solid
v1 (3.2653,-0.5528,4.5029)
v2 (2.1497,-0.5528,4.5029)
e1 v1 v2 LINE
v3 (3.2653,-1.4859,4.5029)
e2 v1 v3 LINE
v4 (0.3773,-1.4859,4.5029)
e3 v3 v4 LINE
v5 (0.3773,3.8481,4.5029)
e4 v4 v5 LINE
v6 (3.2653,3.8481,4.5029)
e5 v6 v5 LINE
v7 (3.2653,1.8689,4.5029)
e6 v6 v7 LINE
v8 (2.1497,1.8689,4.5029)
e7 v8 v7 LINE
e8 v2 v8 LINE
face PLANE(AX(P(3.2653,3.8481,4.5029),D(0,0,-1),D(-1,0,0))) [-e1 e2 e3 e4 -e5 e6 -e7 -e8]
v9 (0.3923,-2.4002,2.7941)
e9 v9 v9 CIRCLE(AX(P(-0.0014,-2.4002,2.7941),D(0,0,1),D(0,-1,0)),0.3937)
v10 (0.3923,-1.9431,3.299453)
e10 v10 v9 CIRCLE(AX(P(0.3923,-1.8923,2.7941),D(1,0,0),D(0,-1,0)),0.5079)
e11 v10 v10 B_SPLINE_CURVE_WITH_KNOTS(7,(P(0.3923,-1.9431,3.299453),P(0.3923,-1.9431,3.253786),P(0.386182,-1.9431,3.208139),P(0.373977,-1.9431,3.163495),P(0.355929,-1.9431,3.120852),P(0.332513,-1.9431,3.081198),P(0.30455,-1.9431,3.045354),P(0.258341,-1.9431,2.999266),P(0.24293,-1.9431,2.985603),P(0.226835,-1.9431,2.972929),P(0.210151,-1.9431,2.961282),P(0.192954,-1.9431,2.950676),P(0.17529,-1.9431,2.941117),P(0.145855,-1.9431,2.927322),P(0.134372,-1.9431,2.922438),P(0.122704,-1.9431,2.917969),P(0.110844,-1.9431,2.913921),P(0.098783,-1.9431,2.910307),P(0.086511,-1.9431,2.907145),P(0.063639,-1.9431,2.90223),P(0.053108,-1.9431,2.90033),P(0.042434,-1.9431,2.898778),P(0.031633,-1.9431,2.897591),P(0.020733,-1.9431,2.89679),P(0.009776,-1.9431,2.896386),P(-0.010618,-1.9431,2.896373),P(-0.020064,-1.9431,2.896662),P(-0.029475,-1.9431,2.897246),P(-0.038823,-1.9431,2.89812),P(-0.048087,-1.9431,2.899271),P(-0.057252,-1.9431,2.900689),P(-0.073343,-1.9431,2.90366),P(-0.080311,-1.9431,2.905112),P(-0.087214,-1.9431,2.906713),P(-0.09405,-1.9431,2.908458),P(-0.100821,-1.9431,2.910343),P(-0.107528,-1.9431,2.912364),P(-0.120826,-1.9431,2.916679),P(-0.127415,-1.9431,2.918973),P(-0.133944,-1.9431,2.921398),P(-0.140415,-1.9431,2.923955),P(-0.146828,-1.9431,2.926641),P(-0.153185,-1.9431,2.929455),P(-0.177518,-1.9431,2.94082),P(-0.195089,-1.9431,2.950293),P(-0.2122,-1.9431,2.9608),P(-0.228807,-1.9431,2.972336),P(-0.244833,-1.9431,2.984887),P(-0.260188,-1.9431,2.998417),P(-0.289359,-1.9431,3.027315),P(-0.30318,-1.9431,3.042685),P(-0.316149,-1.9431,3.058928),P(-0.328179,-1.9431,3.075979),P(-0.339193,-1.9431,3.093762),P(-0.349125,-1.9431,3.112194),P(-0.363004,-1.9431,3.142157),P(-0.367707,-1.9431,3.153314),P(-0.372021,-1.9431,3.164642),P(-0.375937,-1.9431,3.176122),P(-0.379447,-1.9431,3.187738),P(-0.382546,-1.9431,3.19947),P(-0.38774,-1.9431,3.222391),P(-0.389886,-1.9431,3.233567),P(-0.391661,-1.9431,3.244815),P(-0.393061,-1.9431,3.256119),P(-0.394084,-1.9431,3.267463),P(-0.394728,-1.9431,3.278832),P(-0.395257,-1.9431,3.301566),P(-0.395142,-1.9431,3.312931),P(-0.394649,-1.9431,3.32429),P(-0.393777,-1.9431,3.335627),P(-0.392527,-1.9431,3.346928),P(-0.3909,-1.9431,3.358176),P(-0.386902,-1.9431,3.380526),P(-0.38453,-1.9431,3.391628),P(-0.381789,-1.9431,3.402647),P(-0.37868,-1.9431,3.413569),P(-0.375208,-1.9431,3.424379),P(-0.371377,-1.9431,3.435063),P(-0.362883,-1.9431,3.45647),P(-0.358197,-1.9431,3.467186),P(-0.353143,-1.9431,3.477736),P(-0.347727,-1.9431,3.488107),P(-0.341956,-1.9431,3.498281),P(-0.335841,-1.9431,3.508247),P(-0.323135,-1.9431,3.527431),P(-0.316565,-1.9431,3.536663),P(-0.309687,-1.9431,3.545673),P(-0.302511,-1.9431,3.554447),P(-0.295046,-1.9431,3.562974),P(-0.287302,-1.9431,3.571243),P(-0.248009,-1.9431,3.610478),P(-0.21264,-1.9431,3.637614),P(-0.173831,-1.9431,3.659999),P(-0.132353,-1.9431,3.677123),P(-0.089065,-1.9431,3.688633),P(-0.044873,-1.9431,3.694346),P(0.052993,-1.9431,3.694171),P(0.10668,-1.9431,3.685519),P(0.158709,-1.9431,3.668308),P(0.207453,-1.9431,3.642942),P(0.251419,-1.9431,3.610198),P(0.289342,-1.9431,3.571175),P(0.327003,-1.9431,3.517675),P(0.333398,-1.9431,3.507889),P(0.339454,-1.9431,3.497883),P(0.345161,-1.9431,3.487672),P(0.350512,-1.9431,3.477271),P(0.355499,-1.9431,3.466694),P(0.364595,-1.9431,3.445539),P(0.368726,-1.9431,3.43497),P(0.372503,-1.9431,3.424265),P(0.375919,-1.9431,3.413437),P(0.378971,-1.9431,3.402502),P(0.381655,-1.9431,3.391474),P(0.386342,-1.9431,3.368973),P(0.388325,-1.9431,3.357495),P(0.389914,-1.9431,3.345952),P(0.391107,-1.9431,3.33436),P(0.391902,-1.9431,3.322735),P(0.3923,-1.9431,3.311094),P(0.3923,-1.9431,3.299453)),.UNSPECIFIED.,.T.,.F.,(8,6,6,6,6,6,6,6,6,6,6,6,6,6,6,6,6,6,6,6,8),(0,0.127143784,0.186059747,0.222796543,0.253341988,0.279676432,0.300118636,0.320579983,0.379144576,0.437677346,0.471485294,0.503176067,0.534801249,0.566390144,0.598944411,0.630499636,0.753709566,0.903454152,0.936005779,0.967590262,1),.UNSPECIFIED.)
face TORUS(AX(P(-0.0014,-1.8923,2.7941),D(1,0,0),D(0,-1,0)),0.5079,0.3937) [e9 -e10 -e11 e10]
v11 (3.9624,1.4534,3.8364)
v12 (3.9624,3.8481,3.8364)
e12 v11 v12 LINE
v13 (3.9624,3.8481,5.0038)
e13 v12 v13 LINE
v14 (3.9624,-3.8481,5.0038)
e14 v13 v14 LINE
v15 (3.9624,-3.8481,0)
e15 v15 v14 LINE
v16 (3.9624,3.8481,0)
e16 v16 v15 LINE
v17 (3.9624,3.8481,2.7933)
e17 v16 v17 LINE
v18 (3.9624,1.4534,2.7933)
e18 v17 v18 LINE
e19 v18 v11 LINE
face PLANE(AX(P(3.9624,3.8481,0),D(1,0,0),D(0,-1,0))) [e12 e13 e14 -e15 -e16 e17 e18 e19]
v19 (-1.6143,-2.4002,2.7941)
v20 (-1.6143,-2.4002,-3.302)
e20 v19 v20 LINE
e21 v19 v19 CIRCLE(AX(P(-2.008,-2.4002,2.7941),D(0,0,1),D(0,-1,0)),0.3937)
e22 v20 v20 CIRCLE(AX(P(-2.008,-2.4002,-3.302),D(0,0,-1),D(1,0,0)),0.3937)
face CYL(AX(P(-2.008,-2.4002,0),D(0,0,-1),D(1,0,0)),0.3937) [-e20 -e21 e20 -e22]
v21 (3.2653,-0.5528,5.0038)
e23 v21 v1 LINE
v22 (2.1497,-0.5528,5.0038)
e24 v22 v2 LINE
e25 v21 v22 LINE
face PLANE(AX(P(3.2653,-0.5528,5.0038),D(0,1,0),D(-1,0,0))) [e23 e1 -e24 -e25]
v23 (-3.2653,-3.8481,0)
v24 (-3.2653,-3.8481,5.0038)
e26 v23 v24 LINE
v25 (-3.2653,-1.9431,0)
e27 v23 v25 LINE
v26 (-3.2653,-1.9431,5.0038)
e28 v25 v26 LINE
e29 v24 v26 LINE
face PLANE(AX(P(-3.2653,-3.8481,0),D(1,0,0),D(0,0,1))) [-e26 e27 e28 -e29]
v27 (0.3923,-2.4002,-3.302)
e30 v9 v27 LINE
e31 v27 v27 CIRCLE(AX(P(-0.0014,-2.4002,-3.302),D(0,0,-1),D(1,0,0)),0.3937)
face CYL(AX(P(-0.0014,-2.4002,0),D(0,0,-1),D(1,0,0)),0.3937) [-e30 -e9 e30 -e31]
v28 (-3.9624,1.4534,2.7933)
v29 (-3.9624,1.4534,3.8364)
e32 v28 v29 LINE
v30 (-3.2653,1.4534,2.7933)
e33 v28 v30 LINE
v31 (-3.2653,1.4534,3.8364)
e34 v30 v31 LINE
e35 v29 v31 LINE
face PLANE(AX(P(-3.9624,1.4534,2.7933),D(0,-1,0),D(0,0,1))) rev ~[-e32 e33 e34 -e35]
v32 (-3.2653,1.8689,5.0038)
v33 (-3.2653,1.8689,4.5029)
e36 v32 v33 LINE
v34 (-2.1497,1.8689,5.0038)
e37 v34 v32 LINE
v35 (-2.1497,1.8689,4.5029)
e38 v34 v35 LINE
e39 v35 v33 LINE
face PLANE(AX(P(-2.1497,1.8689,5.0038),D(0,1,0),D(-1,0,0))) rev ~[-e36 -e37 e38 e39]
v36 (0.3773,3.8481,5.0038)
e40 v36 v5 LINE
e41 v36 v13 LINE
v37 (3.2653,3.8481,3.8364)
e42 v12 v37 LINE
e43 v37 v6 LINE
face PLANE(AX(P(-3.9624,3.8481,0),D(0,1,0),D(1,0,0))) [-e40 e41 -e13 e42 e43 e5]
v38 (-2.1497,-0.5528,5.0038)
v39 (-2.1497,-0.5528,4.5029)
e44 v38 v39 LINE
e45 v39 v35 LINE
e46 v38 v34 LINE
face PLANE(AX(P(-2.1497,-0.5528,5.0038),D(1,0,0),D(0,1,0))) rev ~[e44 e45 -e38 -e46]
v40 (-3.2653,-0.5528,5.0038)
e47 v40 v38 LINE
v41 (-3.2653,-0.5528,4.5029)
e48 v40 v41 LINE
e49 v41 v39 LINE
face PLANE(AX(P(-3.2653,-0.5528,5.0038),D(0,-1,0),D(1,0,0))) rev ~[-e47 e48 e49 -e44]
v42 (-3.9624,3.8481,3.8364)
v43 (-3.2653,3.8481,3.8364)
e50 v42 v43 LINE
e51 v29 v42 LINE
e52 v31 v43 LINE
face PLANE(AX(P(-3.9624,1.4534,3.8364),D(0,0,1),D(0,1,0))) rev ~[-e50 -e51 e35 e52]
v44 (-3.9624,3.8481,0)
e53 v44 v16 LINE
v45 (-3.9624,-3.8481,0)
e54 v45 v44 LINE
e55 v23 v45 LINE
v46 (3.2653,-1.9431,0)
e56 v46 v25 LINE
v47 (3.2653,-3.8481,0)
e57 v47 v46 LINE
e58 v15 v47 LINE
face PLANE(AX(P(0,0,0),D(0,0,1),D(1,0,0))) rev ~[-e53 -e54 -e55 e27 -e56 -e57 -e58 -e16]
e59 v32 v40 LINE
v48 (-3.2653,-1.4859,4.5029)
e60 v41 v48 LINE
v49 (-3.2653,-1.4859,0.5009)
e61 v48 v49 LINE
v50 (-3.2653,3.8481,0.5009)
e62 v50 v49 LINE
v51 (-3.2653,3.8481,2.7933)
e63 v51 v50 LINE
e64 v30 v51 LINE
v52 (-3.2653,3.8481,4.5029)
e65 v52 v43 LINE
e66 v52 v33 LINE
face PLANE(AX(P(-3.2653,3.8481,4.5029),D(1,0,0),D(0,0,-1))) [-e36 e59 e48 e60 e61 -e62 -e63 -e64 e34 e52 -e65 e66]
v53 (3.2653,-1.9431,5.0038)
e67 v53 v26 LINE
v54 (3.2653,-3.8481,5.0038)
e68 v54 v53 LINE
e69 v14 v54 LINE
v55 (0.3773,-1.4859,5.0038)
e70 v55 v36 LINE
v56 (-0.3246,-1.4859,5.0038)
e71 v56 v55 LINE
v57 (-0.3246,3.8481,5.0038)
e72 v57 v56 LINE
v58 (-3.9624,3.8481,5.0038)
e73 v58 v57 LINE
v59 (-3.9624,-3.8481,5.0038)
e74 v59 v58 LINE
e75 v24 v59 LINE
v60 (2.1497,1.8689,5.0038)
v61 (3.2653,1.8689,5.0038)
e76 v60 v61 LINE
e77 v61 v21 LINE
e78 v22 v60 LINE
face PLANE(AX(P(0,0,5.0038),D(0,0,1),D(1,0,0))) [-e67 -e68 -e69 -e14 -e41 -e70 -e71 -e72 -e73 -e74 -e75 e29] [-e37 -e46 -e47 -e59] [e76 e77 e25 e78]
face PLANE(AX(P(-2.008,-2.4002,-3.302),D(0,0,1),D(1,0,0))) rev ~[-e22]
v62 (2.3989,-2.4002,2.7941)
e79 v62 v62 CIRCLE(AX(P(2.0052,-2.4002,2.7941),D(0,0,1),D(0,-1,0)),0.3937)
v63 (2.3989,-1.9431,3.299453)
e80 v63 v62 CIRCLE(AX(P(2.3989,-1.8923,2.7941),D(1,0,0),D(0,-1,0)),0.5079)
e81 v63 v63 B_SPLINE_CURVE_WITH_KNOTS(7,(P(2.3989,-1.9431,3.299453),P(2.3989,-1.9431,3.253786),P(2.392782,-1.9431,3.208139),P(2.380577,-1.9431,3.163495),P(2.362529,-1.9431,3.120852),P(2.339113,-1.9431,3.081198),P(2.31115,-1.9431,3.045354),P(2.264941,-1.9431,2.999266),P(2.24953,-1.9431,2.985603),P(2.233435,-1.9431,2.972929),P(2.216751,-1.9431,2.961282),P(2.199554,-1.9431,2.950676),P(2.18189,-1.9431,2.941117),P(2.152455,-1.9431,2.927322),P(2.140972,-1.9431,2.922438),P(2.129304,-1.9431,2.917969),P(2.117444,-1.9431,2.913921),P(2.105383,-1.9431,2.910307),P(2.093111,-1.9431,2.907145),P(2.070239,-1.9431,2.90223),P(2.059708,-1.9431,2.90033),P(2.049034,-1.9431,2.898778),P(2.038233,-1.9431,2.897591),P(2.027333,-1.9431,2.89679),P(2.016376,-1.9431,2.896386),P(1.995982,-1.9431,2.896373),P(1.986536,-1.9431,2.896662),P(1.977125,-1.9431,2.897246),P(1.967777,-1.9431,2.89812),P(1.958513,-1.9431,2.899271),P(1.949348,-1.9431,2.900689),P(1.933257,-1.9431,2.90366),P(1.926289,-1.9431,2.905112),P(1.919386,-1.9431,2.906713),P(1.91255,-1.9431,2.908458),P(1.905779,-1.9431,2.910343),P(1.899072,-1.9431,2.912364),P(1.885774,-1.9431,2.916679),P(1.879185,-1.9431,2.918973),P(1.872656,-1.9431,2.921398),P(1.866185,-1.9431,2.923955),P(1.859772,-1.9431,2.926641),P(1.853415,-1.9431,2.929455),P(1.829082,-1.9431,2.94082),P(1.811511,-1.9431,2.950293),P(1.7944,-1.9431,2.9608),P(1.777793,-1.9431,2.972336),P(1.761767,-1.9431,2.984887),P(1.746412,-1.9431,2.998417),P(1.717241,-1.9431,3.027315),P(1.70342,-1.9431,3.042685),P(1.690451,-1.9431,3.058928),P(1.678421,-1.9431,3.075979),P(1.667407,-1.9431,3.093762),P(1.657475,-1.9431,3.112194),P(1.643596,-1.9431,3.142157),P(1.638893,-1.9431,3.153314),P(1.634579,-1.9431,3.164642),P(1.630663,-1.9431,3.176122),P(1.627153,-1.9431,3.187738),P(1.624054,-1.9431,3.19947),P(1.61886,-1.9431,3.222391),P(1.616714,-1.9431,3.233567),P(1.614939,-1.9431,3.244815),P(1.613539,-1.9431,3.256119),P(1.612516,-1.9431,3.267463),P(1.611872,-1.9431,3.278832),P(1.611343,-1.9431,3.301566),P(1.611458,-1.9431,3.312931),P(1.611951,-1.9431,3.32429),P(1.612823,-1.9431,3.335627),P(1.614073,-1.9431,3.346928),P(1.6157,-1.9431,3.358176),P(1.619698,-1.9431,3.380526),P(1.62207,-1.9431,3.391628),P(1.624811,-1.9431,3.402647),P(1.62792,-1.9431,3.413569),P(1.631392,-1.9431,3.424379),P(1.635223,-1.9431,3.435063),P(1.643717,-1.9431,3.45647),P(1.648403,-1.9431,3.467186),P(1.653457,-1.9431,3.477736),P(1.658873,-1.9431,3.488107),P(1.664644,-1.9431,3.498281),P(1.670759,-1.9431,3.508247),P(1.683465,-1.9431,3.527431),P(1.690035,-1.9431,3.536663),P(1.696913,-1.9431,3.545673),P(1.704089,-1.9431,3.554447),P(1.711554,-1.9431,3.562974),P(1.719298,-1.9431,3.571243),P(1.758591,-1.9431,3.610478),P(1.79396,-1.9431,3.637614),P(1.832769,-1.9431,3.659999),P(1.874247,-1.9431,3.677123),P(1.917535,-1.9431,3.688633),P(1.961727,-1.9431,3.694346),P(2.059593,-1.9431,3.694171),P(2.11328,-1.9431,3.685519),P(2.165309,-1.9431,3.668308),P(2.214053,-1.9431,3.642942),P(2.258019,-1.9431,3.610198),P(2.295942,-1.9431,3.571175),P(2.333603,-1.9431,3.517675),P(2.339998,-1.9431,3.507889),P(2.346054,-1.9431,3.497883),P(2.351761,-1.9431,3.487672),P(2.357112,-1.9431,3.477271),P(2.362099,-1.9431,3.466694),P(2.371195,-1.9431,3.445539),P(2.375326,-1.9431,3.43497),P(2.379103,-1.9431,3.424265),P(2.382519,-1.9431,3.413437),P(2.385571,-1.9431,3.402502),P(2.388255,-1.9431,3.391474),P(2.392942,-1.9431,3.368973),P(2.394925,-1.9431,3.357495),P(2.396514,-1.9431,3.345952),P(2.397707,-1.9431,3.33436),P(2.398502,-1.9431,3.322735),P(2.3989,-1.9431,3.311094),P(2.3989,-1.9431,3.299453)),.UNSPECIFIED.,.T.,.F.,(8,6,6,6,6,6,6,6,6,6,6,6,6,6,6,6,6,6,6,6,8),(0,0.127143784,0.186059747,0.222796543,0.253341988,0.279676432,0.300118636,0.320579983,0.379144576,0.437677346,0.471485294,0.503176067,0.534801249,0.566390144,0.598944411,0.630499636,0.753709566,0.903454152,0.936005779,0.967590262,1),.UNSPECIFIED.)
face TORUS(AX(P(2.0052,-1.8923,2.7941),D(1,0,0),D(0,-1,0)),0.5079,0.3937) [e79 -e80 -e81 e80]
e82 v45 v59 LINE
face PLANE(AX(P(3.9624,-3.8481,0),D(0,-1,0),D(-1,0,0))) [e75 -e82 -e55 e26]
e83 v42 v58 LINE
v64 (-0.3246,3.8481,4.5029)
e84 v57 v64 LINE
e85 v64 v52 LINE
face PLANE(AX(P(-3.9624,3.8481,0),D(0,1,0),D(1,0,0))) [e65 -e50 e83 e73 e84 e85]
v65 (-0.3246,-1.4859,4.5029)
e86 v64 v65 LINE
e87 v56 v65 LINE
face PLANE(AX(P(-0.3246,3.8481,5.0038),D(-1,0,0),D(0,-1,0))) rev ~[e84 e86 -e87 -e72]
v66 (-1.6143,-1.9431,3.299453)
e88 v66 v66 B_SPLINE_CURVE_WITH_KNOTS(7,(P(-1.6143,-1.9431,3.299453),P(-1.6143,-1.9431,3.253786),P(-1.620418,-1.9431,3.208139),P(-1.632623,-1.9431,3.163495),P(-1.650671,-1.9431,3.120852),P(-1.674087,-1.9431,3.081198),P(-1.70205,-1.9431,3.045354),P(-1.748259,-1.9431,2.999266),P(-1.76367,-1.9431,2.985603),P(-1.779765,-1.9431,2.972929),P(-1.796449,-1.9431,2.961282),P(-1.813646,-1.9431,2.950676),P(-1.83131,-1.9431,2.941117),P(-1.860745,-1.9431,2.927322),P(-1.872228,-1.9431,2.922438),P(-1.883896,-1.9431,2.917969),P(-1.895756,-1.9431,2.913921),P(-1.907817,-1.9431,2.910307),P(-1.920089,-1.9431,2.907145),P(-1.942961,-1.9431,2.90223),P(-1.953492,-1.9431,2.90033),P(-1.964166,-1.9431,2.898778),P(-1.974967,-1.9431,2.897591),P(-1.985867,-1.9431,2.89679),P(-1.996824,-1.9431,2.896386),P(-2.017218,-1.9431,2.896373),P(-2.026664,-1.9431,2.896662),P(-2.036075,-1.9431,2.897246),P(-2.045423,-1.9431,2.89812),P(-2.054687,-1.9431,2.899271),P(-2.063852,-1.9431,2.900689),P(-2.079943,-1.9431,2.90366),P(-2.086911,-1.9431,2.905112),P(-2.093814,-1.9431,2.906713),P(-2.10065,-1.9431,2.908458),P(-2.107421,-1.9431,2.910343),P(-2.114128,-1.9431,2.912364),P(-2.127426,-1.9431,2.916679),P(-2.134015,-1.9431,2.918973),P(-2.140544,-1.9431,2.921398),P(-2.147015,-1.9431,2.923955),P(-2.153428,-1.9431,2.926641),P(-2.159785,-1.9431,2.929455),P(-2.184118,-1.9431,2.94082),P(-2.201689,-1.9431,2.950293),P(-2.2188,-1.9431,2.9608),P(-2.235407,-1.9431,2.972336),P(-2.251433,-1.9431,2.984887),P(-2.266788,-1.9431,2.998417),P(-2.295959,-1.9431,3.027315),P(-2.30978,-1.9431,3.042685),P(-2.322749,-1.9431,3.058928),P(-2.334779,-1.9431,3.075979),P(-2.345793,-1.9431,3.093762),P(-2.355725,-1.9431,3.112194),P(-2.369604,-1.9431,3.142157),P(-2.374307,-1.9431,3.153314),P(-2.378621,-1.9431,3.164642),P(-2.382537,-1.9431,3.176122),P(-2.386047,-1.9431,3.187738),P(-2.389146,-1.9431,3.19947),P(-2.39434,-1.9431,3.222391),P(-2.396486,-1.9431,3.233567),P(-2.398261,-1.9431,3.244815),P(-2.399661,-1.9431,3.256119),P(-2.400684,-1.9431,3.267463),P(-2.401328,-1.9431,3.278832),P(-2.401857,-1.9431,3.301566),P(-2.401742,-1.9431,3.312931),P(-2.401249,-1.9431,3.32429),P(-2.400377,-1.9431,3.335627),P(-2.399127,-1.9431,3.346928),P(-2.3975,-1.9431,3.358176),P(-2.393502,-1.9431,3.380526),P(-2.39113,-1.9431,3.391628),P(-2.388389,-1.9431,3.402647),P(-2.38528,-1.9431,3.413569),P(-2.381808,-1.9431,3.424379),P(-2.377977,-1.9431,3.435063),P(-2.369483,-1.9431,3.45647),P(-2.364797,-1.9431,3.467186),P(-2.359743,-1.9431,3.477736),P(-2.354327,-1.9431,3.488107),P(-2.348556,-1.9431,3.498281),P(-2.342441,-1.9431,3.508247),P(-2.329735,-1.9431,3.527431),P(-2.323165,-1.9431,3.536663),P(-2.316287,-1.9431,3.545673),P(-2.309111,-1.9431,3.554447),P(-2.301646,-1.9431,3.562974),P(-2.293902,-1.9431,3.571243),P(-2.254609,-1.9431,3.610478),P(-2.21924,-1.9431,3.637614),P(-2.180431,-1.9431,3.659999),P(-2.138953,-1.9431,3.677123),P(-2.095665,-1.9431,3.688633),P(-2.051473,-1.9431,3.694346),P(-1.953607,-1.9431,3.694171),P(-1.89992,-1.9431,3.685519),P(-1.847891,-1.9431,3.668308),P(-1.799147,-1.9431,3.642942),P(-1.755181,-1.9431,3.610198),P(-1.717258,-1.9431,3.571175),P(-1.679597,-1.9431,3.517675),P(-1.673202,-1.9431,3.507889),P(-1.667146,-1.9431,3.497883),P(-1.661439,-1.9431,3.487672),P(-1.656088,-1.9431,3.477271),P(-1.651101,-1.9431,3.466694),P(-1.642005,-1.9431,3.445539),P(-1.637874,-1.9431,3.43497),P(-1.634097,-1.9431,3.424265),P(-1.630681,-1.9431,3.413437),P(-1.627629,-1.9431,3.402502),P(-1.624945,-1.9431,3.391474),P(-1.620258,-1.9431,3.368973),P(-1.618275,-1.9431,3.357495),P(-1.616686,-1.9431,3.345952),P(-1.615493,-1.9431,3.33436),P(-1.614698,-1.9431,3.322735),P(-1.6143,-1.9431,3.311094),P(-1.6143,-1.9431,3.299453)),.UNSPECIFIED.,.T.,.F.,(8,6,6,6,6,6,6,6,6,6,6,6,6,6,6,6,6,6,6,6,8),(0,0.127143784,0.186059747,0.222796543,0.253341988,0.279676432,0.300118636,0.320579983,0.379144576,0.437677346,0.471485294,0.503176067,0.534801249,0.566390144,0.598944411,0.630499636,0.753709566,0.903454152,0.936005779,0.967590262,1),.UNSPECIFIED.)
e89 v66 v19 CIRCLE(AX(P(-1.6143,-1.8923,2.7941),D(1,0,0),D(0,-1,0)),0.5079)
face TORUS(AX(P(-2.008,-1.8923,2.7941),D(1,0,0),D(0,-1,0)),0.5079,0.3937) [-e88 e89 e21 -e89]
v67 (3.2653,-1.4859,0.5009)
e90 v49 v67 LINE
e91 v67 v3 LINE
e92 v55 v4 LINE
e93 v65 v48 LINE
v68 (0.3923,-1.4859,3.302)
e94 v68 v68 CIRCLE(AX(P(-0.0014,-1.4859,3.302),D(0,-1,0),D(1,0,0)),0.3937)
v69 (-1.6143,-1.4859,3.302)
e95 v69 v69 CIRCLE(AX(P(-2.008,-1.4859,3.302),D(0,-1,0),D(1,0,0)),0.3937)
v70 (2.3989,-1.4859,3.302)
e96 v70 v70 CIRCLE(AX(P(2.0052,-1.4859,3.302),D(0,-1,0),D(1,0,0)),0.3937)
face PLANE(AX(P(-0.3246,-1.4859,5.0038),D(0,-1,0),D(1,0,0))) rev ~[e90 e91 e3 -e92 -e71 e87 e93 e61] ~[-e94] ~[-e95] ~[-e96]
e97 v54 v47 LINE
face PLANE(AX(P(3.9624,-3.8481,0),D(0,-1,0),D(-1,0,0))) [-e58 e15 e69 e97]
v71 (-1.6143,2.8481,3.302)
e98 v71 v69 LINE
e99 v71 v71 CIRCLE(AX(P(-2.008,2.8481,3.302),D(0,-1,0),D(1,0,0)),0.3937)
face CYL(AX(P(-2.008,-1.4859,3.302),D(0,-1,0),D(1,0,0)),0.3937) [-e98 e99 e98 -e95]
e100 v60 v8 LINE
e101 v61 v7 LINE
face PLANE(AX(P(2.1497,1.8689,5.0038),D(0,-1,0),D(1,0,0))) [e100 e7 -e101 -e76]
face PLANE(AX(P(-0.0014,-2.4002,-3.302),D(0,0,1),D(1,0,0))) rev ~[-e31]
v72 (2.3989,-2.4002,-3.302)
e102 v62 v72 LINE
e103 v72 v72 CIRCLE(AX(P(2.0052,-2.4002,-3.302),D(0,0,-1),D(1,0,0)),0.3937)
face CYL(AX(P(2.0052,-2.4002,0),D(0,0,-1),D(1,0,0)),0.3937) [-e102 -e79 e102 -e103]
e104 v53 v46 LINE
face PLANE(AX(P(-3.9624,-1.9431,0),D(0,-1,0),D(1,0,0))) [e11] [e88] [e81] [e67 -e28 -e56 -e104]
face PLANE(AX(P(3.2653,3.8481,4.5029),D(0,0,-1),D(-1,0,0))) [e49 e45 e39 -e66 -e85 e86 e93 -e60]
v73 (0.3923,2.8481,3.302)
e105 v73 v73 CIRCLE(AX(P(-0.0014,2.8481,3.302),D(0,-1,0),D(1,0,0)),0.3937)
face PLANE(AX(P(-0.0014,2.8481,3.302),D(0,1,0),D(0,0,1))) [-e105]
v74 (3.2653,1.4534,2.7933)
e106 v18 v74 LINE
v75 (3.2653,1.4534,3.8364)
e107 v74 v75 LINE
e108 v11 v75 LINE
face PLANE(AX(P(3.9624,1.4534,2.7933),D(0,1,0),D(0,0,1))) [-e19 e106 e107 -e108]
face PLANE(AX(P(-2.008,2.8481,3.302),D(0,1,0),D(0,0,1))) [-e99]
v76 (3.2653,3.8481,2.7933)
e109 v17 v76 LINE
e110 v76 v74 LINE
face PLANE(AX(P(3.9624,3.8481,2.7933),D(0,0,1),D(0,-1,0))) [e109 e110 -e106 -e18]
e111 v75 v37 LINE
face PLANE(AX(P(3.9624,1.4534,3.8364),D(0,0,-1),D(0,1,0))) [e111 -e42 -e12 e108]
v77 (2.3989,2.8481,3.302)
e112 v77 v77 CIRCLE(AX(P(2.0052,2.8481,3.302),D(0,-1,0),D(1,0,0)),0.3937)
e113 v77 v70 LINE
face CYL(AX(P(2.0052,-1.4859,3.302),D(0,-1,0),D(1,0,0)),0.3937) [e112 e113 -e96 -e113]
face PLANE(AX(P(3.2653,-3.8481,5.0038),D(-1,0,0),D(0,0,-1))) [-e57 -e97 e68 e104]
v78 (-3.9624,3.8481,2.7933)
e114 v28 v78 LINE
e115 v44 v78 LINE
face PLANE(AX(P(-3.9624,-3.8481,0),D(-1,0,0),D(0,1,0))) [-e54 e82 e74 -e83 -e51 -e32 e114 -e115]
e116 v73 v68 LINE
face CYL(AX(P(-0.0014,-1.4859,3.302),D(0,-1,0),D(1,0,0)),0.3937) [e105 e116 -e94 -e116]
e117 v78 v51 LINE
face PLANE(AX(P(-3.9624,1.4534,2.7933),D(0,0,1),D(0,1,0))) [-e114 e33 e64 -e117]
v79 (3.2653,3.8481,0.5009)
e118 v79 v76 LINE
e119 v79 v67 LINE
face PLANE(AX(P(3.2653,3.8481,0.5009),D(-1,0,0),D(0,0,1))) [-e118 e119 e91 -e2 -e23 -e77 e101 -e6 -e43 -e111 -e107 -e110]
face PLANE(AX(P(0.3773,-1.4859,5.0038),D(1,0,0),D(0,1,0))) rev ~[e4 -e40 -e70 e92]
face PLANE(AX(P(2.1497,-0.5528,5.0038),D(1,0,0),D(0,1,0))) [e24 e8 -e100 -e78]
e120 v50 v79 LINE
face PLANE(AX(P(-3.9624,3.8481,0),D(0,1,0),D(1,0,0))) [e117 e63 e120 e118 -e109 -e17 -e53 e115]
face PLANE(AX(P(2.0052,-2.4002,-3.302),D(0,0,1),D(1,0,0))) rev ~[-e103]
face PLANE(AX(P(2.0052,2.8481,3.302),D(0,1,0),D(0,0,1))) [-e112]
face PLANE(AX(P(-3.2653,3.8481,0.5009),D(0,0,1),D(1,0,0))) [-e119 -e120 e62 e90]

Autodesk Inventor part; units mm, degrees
ref_plane "YZ Plane" through (0, 0, 0) normal (1, 0, 0) x (0, 1, 0)
ref_plane "XZ Plane" through (0, 0, 0) normal (0, 1, 0) x (-1, 0, 0)
sketch "Sketch1" plane through (0, 0, 0) normal (0, 0, 1) x (1, 0, 0)
  line L0 (-3.9624, 3.8481) -> (3.9624, 3.8481)
  line L1 (3.9624, 3.8481) -> (3.9624, -3.8481)
  line L2 (3.9624, -3.8481) -> (-3.9624, -3.8481)
  line L3 (-3.9624, -3.8481) -> (-3.9624, 3.8481)
  line L4 (-3.9624, 3.8481) -> (3.9624, -3.8481) construction
  line L5 (3.9624, 3.8481) -> (-3.9624, -3.8481) construction
  point P0 (0, 0)
  dimension "d0" = 7.6962
  dimension "d1" = 7.9248
extrude "Extrusion1" add sketch "Sketch1" along normal blind 5.0038
sketch "Sketch4" plane through (-3.9624, 3.8481, 0) normal (0, 1, 0) x (1, 0, 0)
  line L0 (7.2277, -4.5029) -> (0.6971, -4.5029)
  line L1 (0.6971, -4.5029) -> (0.6971, -0.5009)
  line L2 (0.6971, -0.5009) -> (7.2277, -0.5009)
  line L3 (7.2277, -0.5009) -> (7.2277, -4.5029)
  line L4 (7.2277, -4.5029) -> (0.6971, -0.5009) construction
  line L5 (0.6971, -4.5029) -> (7.2277, -0.5009) construction
  line L6 (7.9248, -5.0038) -> (0, -5.0038) projected
  point P0 (3.9624, 0)
  point P1 (3.9624, -2.5019)
  dimension "d16" = 2.5019
extrude "Extrusion3" cut sketch "Sketch4" against normal blind 5.334
sketch "Sketch5" plane through (-3.9624, -3.8481, 0) normal (0, -1, 0) x (1, 0, 0)
  line L0 (7.9248, 5.0038) -> (0, 5.0038) projected
  line L1 (7.9248, 0) -> (0, 0) projected
  line L2 (0.6971, 5.0038) -> (7.2277, 5.0038)
  line L3 (7.2277, 5.0038) -> (7.2277, 0)
  line L4 (7.2277, 0) -> (0.6971, 0)
  line L5 (0.6971, 0) -> (0.6971, 5.0038)
  point P0 (3.9624, 0)
  point P1 (0.6971, 4.5029)
  point P2 (7.2277, 0.5009)
extrude "Extrusion4" cut sketch "Sketch5" against normal blind 1.905
sketch "Sketch9" plane through (0, 0, 5.0038) normal (0, 0, 1) x (1, 0, 0)
  line L0 (3.2653, 3.8481) -> (-3.2653, 3.8481) projected
  line L1 (-3.2653, -1.4859) -> (3.2653, -1.4859) projected
  line L2 (0.3773, 3.8481) -> (-0.3246, 3.8481)
  line L3 (-0.3246, 3.8481) -> (-0.3246, -1.4859)
  line L4 (-0.3246, -1.4859) -> (0.3773, -1.4859)
  line L5 (0.3773, -1.4859) -> (0.3773, 3.8481)
  line L6 (3.2653, 3.8481) -> (3.2653, -1.4859) projected
  line L7 (3.2653, -0.5528) -> (2.1497, -0.5528)
  line L8 (2.1497, -0.5528) -> (2.1497, 1.8689)
  line L9 (2.1497, 1.8689) -> (3.2653, 1.8689)
  line L10 (3.2653, 1.8689) -> (3.2653, -0.5528)
  line L11 (-3.2653, 3.8481) -> (-3.2653, -1.4859) projected
  line L12 (-3.2653, -0.5528) -> (-2.1497, -0.5528)
  line L13 (-2.1497, -0.5528) -> (-2.1497, 1.8689)
  line L14 (-2.1497, 1.8689) -> (-3.2653, 1.8689)
  line L15 (-3.2653, 1.8689) -> (-3.2653, -0.5528)
  point P0 (0, 0)
  dimension "d36" = 1.1156
  dimension "d37" = 1.1156
extrude "Extrusion7" cut sketch "Sketch9" against normal up to surface (0.5009 mm away) contours L5 L1 L3 L0 | L6 L7 L8 L9 | L14 L13 L12 L11
sketch "Sketch10" plane through (-3.9624, -1.4859, 0) normal (0, 1, 0) x (1, 0, 0)
  circle A0 centre (3.961, -3.302) radius 0.3937
  line L0 (7.9248, -5.0038) -> (4.3397, -5.0038) projected
  line L1 (0.6971, -4.5029) -> (0.6971, -0.5009) projected
  circle A1 centre (1.9544, -3.302) radius 0.3937
  line L2 (3.6378, -5.0038) -> (0, -5.0038) projected
  circle A2 centre (5.9676, -3.302) radius 0.3937
  point P0 (3.9624, 0)
  dimension "d40" = 1.7018
  dimension "d41" = 0.7874
  dimension "d42" = 3.2639
  dimension "d43" = 0.7874
  dimension "d44" = 1.7018
  dimension "d45" = 2.0066
  dimension "d46" = 0.7874
  dimension "d47" = 1.7018
  dimension "d48" = 2.0066
ref_plane "Work Plane1" through (-0.0014, -1.4859, 3.302) normal (-1, 0, 0) x (0, 0, 1)
sketch "Sketch11" plane through (-0.0014, -1.4859, 3.302) normal (-1, 0, 0) x (0, 0, 1)
  line L0 (-2.8011, 0) -> (1.2009, 0) projected
  line L1 (0.0001, 0) -> (0.0001, 4.334)
  line L2 (-2.8011, 5.334) -> (1.2009, 5.334) projected
  line L3 (-4.4984, -0.9144) -> (-6.604, -0.9144)
  line L4 (-3.302, -2.3622) -> (-3.302, 5.334) projected
  line L5 (-3.302, 5.334) -> (1.7018, 5.334) projected
  line L6 (-3.302, -0.9144) -> (-4.4984, -0.9144)
  line L7 (-3.302, -0.9144) -> (-0.5079, -0.9144)
  line L8 (0.0001, -0.4064) -> (0.0001, 0)
  arc A0 (-0.5079, -0.9144) -> (0.0001, -0.4064) centre (-0.5079, -0.4064) ccw
  point P0 (-3.302, 1.4859)
  dimension "d49" = 1
  dimension "d50" = 3.302
  dimension "d51" = 6.2484
  dimension "d52" = 0.508
sweep "Sweep1" add profiles "Sketch10" path "Sketch11" path curves L3 L6 L7 A0 L8 L1
sketch "Sketch12" plane through (3.9624, -3.8481, 0) normal (1, 0, 0) x (0, 0, -1)
  line L0 (-4.5029, 7.6962) -> (-0.5009, 7.6962) projected
  line L1 (-3.8364, 7.6962) -> (-2.7933, 7.6962)
  line L2 (-2.7933, 7.6962) -> (-2.7933, 5.3015)
  line L3 (-2.7933, 5.3015) -> (-3.8364, 5.3015)
  line L4 (-3.8364, 5.3015) -> (-3.8364, 7.6962)
  point P0 (0, 3.8481)
extrude "Extrusion8" cut sketch "Sketch12" against normal up to surface (0.6971 mm away)
sketch "Sketch13" plane through (-3.9624, -3.8481, 0) normal (-1, 0, 0) x (0, 0, 1)
  line L0 (3.8364, 7.6962) -> (4.5029, 7.6962) projected
  line L1 (2.7933, 5.3015) -> (2.7933, 7.6962) projected
  line L2 (3.8364, 7.6962) -> (2.7933, 7.6962)
  line L3 (2.7933, 7.6962) -> (2.7933, 5.3015)
  line L4 (2.7933, 5.3015) -> (3.8364, 5.3015)
  line L5 (3.8364, 5.3015) -> (3.8364, 7.6962)
  point P0 (0, 3.8481)
extrude "Extrusion9" cut sketch "Sketch13" against normal up to surface (0.6971 mm away)
equation "\"d37\" = d36"
equation "\"d44\" = d40"
equation "\"d47\" = d40"
equation "\"d48\" = d45"
properties part number "2SH-C-03-TR"
